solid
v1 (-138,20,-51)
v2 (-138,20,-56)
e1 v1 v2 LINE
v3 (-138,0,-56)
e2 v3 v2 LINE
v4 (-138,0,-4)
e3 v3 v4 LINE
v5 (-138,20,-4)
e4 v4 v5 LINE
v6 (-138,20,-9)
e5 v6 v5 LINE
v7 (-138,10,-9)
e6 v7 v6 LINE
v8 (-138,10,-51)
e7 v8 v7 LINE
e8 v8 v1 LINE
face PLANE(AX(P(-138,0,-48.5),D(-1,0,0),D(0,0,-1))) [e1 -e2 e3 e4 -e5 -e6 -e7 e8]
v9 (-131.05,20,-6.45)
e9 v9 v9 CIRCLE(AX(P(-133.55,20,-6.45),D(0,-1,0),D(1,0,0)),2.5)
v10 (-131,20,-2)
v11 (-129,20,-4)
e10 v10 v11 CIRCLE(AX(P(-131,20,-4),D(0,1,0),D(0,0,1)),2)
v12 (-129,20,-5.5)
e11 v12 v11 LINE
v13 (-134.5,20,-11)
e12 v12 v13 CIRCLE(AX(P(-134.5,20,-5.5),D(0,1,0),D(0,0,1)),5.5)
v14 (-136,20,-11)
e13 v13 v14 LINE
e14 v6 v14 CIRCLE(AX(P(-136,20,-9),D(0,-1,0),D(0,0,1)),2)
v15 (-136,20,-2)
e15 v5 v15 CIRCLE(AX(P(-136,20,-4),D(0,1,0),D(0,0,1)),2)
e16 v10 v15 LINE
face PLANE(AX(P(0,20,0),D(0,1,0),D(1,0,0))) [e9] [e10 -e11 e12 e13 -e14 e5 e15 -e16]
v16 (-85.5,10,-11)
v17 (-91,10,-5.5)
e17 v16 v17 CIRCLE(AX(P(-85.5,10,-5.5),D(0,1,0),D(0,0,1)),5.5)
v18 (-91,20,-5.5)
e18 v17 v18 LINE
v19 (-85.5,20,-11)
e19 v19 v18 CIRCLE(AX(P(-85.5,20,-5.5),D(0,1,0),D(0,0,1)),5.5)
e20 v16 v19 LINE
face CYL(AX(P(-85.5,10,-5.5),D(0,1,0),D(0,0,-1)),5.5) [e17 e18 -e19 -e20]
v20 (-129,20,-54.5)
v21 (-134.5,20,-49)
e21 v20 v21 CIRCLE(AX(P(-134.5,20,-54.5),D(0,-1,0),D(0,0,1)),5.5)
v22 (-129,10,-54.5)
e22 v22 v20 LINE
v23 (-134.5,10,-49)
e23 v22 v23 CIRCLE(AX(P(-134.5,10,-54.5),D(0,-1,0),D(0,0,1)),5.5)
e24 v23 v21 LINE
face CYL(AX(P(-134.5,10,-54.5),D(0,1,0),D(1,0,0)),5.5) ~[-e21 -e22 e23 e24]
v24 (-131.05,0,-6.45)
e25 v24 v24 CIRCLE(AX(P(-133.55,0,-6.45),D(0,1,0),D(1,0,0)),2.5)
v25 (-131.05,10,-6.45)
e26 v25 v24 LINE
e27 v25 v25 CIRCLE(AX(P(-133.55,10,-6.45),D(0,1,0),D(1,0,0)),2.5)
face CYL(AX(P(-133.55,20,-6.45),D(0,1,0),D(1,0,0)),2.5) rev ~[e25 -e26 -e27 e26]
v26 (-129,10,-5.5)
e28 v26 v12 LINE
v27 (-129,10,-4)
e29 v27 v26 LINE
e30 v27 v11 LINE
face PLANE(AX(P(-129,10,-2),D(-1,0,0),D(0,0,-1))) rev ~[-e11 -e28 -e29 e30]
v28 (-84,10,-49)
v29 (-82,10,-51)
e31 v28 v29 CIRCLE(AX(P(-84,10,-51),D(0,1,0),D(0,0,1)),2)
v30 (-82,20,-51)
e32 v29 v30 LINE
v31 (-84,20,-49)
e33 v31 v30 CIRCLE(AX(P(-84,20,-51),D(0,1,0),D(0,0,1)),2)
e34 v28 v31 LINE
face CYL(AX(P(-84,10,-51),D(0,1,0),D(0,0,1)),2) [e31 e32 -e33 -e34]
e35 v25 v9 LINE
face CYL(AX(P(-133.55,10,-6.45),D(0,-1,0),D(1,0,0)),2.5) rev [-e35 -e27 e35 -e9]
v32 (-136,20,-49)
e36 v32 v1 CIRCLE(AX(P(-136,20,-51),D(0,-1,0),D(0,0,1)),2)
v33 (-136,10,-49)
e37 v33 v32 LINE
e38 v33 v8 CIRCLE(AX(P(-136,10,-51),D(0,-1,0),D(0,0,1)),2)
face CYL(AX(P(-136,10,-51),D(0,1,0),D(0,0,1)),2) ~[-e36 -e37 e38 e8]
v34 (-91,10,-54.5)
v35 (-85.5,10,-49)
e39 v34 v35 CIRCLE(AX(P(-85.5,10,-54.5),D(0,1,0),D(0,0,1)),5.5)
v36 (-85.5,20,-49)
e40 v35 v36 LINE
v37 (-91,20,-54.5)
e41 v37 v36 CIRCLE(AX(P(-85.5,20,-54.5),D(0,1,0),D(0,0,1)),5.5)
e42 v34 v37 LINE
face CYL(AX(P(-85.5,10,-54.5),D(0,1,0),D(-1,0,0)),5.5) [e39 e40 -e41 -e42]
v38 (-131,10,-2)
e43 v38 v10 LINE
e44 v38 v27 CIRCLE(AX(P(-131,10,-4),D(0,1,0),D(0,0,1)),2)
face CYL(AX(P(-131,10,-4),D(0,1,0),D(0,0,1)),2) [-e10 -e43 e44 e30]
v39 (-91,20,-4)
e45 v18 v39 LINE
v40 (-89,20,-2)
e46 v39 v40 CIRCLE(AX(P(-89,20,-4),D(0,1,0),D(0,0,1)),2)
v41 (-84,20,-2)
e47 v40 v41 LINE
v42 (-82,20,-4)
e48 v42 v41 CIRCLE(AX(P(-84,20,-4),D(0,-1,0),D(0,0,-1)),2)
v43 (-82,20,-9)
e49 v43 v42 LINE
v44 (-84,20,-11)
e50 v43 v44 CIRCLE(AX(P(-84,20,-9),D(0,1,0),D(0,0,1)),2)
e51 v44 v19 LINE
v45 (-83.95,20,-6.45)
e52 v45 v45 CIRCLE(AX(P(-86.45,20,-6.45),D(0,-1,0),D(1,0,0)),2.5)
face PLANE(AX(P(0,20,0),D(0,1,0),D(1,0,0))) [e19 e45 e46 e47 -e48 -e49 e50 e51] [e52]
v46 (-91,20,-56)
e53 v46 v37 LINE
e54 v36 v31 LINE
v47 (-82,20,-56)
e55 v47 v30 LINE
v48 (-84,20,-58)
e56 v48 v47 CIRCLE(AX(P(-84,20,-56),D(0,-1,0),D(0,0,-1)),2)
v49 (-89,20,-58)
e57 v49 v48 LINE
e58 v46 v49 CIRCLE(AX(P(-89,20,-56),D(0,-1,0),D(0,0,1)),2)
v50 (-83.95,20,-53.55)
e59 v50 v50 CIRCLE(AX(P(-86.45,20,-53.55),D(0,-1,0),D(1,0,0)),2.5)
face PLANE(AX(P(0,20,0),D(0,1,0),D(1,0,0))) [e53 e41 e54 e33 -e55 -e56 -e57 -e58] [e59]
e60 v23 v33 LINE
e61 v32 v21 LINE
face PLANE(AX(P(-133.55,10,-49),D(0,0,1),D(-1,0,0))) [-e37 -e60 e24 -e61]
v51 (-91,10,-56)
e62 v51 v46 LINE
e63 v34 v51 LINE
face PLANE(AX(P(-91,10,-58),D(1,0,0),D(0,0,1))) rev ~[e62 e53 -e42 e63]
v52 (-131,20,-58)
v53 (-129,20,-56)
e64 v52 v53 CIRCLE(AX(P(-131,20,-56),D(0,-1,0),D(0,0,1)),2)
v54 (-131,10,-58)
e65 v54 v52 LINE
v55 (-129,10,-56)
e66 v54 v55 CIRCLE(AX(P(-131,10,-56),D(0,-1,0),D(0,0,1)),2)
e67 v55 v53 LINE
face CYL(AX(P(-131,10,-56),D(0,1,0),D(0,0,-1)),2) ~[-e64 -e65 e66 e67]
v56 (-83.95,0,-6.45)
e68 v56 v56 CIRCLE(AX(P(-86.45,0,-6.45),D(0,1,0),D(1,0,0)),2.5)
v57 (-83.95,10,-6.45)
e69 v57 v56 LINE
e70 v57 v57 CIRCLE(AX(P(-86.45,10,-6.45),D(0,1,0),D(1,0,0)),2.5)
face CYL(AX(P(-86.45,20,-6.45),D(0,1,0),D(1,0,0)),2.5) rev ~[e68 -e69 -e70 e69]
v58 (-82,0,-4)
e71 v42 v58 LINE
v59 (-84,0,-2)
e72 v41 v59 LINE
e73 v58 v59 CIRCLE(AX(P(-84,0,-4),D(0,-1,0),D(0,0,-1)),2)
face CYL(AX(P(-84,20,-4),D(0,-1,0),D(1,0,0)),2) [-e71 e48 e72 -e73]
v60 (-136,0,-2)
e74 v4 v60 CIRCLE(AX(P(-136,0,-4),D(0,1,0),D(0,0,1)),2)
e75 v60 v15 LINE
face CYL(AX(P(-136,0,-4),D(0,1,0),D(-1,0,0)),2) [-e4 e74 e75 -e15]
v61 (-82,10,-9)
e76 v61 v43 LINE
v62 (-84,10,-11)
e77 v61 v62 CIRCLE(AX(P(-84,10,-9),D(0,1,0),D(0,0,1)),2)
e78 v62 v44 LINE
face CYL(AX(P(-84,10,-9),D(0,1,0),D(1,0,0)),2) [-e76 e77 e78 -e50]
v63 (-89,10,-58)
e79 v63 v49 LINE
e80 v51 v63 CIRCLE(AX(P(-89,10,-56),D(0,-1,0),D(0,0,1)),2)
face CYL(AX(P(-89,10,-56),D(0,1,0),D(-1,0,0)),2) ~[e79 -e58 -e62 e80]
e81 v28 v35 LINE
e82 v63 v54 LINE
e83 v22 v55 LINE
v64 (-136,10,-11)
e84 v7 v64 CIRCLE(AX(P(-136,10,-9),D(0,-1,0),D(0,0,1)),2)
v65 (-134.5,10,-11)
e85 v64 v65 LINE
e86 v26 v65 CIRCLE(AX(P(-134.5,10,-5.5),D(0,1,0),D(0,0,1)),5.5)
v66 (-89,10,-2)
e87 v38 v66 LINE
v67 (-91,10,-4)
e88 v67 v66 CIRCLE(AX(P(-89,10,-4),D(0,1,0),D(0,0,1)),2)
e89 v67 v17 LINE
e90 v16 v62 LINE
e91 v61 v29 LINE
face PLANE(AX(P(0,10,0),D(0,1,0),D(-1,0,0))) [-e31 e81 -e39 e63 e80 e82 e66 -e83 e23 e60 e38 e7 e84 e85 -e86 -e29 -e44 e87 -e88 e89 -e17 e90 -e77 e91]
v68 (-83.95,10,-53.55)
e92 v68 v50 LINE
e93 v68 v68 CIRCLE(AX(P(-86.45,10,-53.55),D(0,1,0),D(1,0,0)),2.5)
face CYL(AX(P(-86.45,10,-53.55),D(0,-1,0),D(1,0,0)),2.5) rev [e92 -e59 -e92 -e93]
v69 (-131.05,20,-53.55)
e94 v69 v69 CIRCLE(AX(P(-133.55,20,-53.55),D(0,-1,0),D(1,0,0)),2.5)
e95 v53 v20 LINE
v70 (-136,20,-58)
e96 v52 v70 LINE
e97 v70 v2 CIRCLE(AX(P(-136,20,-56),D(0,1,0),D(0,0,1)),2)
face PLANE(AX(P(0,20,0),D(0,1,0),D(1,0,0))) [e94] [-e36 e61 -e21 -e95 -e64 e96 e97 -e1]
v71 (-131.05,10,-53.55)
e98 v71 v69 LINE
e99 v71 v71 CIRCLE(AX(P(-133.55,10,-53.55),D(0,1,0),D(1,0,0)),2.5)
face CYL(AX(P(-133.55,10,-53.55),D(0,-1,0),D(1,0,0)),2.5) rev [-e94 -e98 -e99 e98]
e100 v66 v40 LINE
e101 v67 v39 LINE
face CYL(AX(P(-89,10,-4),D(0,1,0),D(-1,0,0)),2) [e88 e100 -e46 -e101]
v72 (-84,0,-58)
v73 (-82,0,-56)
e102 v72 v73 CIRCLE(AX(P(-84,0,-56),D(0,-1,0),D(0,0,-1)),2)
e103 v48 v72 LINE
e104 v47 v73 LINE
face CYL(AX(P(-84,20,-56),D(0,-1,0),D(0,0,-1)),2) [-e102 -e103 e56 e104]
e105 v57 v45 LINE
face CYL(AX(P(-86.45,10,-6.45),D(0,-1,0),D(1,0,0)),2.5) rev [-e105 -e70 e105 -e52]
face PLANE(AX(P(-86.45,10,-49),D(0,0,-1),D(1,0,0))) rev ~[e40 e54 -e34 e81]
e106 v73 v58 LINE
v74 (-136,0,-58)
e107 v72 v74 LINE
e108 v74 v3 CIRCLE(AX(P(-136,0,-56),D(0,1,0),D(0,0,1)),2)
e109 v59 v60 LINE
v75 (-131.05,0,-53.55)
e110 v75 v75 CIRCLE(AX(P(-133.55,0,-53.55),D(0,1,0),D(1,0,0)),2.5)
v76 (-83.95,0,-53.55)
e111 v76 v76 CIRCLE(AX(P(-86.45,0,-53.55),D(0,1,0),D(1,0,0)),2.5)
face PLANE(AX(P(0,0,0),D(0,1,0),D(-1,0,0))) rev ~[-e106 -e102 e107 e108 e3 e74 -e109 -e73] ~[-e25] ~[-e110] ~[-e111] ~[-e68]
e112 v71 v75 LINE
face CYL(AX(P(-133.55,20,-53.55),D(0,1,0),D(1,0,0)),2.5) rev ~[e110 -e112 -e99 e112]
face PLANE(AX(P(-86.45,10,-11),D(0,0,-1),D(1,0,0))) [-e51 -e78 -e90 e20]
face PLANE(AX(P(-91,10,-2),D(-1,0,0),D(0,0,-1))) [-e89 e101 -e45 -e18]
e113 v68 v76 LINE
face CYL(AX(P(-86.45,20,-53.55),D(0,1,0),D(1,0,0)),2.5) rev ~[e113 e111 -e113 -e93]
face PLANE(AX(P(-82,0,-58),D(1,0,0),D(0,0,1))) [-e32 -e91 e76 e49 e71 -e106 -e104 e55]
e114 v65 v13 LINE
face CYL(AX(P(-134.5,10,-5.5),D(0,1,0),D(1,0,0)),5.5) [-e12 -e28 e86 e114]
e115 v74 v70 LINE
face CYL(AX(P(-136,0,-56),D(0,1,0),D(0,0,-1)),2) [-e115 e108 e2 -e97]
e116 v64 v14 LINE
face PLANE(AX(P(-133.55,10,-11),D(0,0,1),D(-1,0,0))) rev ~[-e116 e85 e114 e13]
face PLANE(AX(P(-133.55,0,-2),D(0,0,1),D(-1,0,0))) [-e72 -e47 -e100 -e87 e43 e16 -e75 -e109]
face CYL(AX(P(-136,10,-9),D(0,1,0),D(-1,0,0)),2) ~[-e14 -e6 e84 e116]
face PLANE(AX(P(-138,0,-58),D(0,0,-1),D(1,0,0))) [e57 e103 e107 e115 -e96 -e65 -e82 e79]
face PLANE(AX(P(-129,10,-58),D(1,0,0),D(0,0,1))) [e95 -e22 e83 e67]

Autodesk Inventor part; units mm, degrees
ref_plane "YZ Plane" through (0, 0, 0) normal (1, 0, 0) x (0, 1, 0)
ref_plane "XZ Plane" through (0, 0, 0) normal (0, 1, 0) x (-1, 0, 0)
ref_plane "XY Plane" through (0, 0, 0) normal (0, 0, 1) x (1, 0, 0)
sketch "Sketch1" plane through (0, 0, 0) normal (0, 1, 0) x (-1, 0, 0)
  line L0 (140, 0) -> (74, 0)
  line L1 (74, 0) -> (76, 0)
  line L2 (140, 0) -> (140, -60)
  line L3 (140, -60) -> (140, 0)
  line L4 (138, -58) -> (82, -2)
  line L5 (82, -58) -> (138, -2)
  circle A0 centre (110, -30) radius 19.4
  circle A1 centre (104, -30) radius 19.4
  line L6 (110, -30) -> (110, -49.4)
  line L7 (86.45, -6.45) -> (86.45, -53.55)
  line L8 (82, -58) -> (82, -2)
  line L9 (76, -58) -> (76, -2)
  line L10 (74, 0) -> (74, -60)
  line L11 (74, 0) -> (74, -60)
  circle A2 centre (86.45, -6.45) radius 2.5
  line L12 (76, -2) -> (138, -2)
  line L13 (80.45, -8.95) -> (133.55, -8.95)
  line L14 (80.45, -3.95) -> (133.55, -3.95)
  line L15 (133.55, -6.45) -> (86.45, -6.45)
  line L16 (82, -2) -> (138, -2)
  line L17 (104, -10.6) -> (110, -10.6)
  line L18 (138, -2) -> (138, -58)
  line L19 (138, -2) -> (138, -58)
  line L20 (133.55, -53.55) -> (133.55, -6.45)
  line L21 (140, -60) -> (138, -60)
  line L22 (138, -60) -> (138, -58)
  line L23 (138, -58) -> (140, -58)
  line L24 (140, -58) -> (140, -60)
  line L25 (104, -49.4) -> (110, -49.4)
  circle A3 centre (86.45, -53.55) radius 2.5
  line L26 (133.55, -51.05) -> (80.45, -51.05)
  line L27 (86.45, -53.55) -> (133.55, -53.55)
  line L28 (80.45, -56.05) -> (133.55, -56.05)
  line L29 (138, -58) -> (82, -58)
  line L30 (138, -58) -> (76, -58)
  line L31 (74, -60) -> (140, -60)
  line L32 (140, -60) -> (32, -60)
  circle A4 centre (127.55, -53.55) radius 2.5
  line L33 (104, -30) -> (104, -49.4)
  circle A5 centre (80.45, -6.45) radius 2.5
  line L34 (86.45, -53.55) -> (82, -53.55)
  line L35 (82, -58) -> (86.45, -58)
  line L36 (86.45, -58) -> (86.45, -53.55)
  line L37 (82, -53.55) -> (82, -58)
  circle A6 centre (80.45, -53.55) radius 2.5
  circle A7 centre (133.55, -53.55) radius 2.5
  line L38 (76, 0) -> (76, -2)
  line L39 (76, -2) -> (74, -2)
  line L40 (74, -2) -> (74, 0)
  line L41 (138, -2) -> (133.55, -2)
  line L42 (133.55, -2) -> (133.55, -6.45)
  line L43 (133.55, -6.45) -> (138, -6.45)
  line L44 (138, -6.45) -> (138, -2)
  circle A8 centre (127.55, -6.45) radius 2.5
  circle A9 centre (133.55, -6.45) radius 2.5
  line L45 (0, -25) -> (0, 0)
  line L46 (32, -60) -> (0, -25)
  line L47 (0, -25) -> (0, 0)
  line L48 (0, 0) -> (74, 0)
  line L49 (0, 0) -> (74, 0)
  line L50 (140, -60) -> (140, 0)
  line L51 (140, -60) -> (0, -60)
  line L52 (0, -60) -> (0, 0)
  line L53 (0, 0) -> (140, 0)
  line L54 (140, 0) -> (140, -60)
  line L55 (0, -60) -> (40, -60)
  line L56 (40, -60) -> (40, -100)
  line L57 (40, -100) -> (0, -100)
  line L58 (0, -100) -> (0, -60)
  line L59 (138, -58) -> (128.5, -58)
  line L60 (128.5, -58) -> (128.5, -48.5)
  line L61 (128.5, -48.5) -> (138, -48.5)
  line L62 (138, -48.5) -> (138, -58)
  line L63 (82, -58) -> (91.5, -58)
  line L64 (91.5, -58) -> (91.5, -48.5)
  line L65 (91.5, -48.5) -> (82, -48.5)
  line L66 (82, -48.5) -> (82, -58)
  line L67 (138, -2) -> (128.5, -2)
  line L68 (128.5, -2) -> (128.5, -11.5)
  line L69 (128.5, -11.5) -> (138, -11.5)
  line L70 (138, -11.5) -> (138, -2)
  line L71 (82, -2) -> (91.5, -2)
  line L72 (91.5, -2) -> (91.5, -11.5)
  line L73 (91.5, -11.5) -> (82, -11.5)
  line L74 (82, -11.5) -> (82, -2)
  point P0 (127.55, 3.95)
  point P1 (127.55, 8.95)
  point P2 (86.45, 3.95)
  point P3 (86.45, 8.95)
  point P4 (127.55, 56.05)
  point P5 (127.55, 51.05)
  point P6 (86.45, 56.05)
  point P7 (86.45, 51.05)
  point P8 (123.7179, -16.2821)
  point P9 (131.05, -8.95)
  point P10 (88.95, -8.95)
  point P11 (88.2178, -8.2178)
  point P12 (86.45, -8.95)
  point P13 (82, -3.95)
  point P14 (135.3178, -55.3178)
  point P15 (127.55, -56.05)
  point P16 (127.55, -51.05)
  point P17 (131.05, -51.05)
  point P18 (123.7179, -43.7179)
  point P19 (86.45, -51.05)
  point P20 (86.45, -56.05)
  point P21 (86.45, -3.95)
  point P22 (127.55, -8.95)
  point P23 (127.55, -3.95)
  point P24 (86.45, -8.95)
  point P25 (86.45, -3.95)
  point P26 (127.55, -56.05)
  point P27 (127.55, -51.05)
  point P28 (127.55, -8.95)
  point P29 (127.55, -3.95)
  point P30 (86.45, -51.05)
  point P31 (86.45, -56.05)
  dimension "d0" = 40
  dimension "d1" = 40
  dimension "d2" = 9.5
  dimension "d3" = 9.5
  dimension "d4" = 9.5
  dimension "d5" = 9.5
  dimension "d6" = 9.5
  dimension "d7" = 9.5
  dimension "d8" = 9.5
  dimension "d9" = 9.5
extrude "Extrusion1" add sketch "Sketch1" along normal blind 10 contours L29 L60 L28 A7 L4 | L4 A7 L20 L61 L18 | L12 L72 L14 L4 | L4 L14 L8 | A7 L27 L4 | L4 L20 A7 | L61 L20 L69 L18 | L29 L64 L28 L60 | L8 L28 L5 | L5 L28 L36 L29 | L14 A2 L4 | L4 A2 L13 L8 A5 L14 | L12 L68 L14 L72 | L27 A7 L4 | L4 A7 L20 | L28 L60 A4 L27 A7 | L69 L20 A9 L43 L18 | L61 L4 A0 L5 L69 L20 | L20 L26 L4 L61 | L29 L36 L28 L64 | L28 A4 L60 | L28 L8 A6 L34 A3 L5 | L5 A3 L28 | A2 L15 L4 | L4 L7 A2 | L14 L72 L15 A2 | A5 L8 | L12 L42 L14 L68 | L14 A8 L15 L72 | A7 L27 A4 L60 L26 L4 | L4 L26 A7 | L43 A9 L5 L18 | L69 L5 L13 L20 | L60 L26 L64 L5 A1 L25 A0 L4 | L4 L26 L60 | L64 L27 A4 L28 | L28 A3 L27 L64 | A4 L27 L60 | L60 L27 A4 | A3 L34 L5 | L5 L36 A3 | L36 L27 A3 | L8 L34 A6 | L15 A2 L4 | L4 A2 L7 | L13 L4 L73 L7 | L7 L73 L8 L13 | A2 L4 L13 | L15 L72 L13 L4 A2 | L12 L5 A9 L42 | L68 A8 L14 | L14 A9 L15 A8 L68 | A8 L68 L15 | L15 A8 L13 L72 | L27 L60 A4 | A9 L20 L43 | L43 L5 A9 | A9 L5 L20 | L13 L5 A9 | L68 L13 L5 | L5 A0 L17 A1 L4 L72 L13 L68 | A0 L6 A1 L4 | L4 A1 L5 A0 | L60 A4 L26 | L64 L26 A4 L27 | L27 A3 L5 L26 L64 | A4 L60 L27 | L7 A3 L5 | L34 A3 L7 | L5 A3 L27 | L34 A6 L8 L26 A3 | L8 A6 L34 | L73 L4 A1 L7 | L7 A1 L65 L8 L73 | L13 L72 L4 | A9 L5 L42 | L42 L15 A9 | A8 L15 L68 | L15 L68 A8 | L5 A9 L15 | L13 L68 A8 L15 A9 L5 | L5 A1 A0 | L13 A8 L68 | A1 L6 L4 | L4 L5 A1 | L25 A1 A0 | A0 A1 L6 | L26 L5 L64 | A3 L26 L5 | L26 L8 L65 L7 | L7 L65 L5 L26 | L7 A1 | A1 L4 A0 L5 L7 | A8 L68 L15 | L5 L4 A0 A1 | A0 A1 L17 | L5 A0 L4 | L6 A1 A0 L33 L5 | A1 L33 A0 | A1 L5 A0 L33 | L65 L7 A1 L5 | A1 A0 L4 | L33 A0 L5 picked at (82.1331, -6.9717)
sketch "Sketch2" plane through (0, 10, 0) normal (0, 1, 0) x (1, 0, 0)
  line L0 (-82, 58) -> (-138, 58) projected
  line L1 (-138, 2) -> (-82, 2) projected
  line L2 (-138, 58) -> (-82, 58)
  line L3 (-82, 58) -> (-82, 2)
  line L4 (-82, 2) -> (-138, 2)
  line L5 (-138, 2) -> (-138, 58)
  line L6 (-138, 58) -> (-138, 2) projected
  line L7 (-138, 58) -> (-129, 58)
  line L8 (-129, 58) -> (-129, 49)
  line L9 (-129, 49) -> (-138, 49)
  line L10 (-138, 49) -> (-138, 58)
  line L11 (-82, 58) -> (-91, 58)
  line L12 (-91, 58) -> (-91, 49)
  line L13 (-91, 49) -> (-82, 49)
  line L14 (-82, 49) -> (-82, 58)
  line L15 (-138, 2) -> (-129, 2)
  line L16 (-129, 2) -> (-129, 11)
  line L17 (-129, 11) -> (-138, 11)
  line L18 (-138, 11) -> (-138, 2)
  line L19 (-82, 2) -> (-91, 2)
  line L20 (-91, 2) -> (-91, 11)
  line L21 (-91, 11) -> (-82, 11)
  line L22 (-82, 11) -> (-82, 2)
  line L23 (-140, 0) -> (-74, 0)
  line L24 (-74, 0) -> (-76, 0)
  line L25 (-140, 0) -> (-140, 60)
  line L26 (-140, 60) -> (-140, 0)
  line L27 (-138, 58) -> (-82, 2)
  line L28 (-82, 58) -> (-138, 2)
  circle A0 centre (-110, 30) radius 19.4
  circle A1 centre (-104, 30) radius 19.4
  line L29 (-110, 30) -> (-110, 49.4)
  line L30 (-86.45, 6.45) -> (-86.45, 53.55)
  line L31 (-82, 58) -> (-82, 2)
  line L32 (-76, 58) -> (-76, 2)
  line L33 (-74, 0) -> (-74, 60)
  line L34 (-74, 0) -> (-74, 60)
  circle A2 centre (-86.45, 6.45) radius 2.5
  line L35 (-76, 2) -> (-138, 2)
  line L36 (-80.45, 8.95) -> (-133.55, 8.95)
  line L37 (-80.45, 3.95) -> (-133.55, 3.95)
  line L38 (-133.55, 6.45) -> (-86.45, 6.45)
  line L39 (-82, 2) -> (-138, 2)
  line L40 (-104, 10.6) -> (-110, 10.6)
  line L41 (-138, 2) -> (-138, 58)
  line L42 (-138, 2) -> (-138, 58)
  line L43 (-133.55, 53.55) -> (-133.55, 6.45)
  line L44 (-140, 60) -> (-138, 60)
  line L45 (-138, 60) -> (-138, 58)
  line L46 (-138, 58) -> (-140, 58)
  line L47 (-140, 58) -> (-140, 60)
  line L48 (-104, 49.4) -> (-110, 49.4)
  circle A3 centre (-86.45, 53.55) radius 2.5
  line L49 (-133.55, 51.05) -> (-80.45, 51.05)
  line L50 (-86.45, 53.55) -> (-133.55, 53.55)
  line L51 (-80.45, 56.05) -> (-133.55, 56.05)
  line L52 (-138, 58) -> (-82, 58)
  line L53 (-138, 58) -> (-76, 58)
  line L54 (-74, 60) -> (-140, 60)
  line L55 (-140, 60) -> (-32, 60)
  circle A4 centre (-127.55, 53.55) radius 2.5
  line L56 (-104, 30) -> (-104, 49.4)
  circle A5 centre (-80.45, 6.45) radius 2.5
  line L57 (-86.45, 53.55) -> (-82, 53.55)
  line L58 (-82, 58) -> (-86.45, 58)
  line L59 (-86.45, 58) -> (-86.45, 53.55)
  line L60 (-82, 53.55) -> (-82, 58)
  circle A6 centre (-80.45, 53.55) radius 2.5
  circle A7 centre (-133.55, 53.55) radius 2.5
  line L61 (-76, 0) -> (-76, 2)
  line L62 (-76, 2) -> (-74, 2)
  line L63 (-74, 2) -> (-74, 0)
  line L64 (-138, 2) -> (-133.55, 2)
  line L65 (-133.55, 2) -> (-133.55, 6.45)
  line L66 (-133.55, 6.45) -> (-138, 6.45)
  line L67 (-138, 6.45) -> (-138, 2)
  circle A8 centre (-127.55, 6.45) radius 2.5
  circle A9 centre (-133.55, 6.45) radius 2.5
  line L68 (0, 25) -> (0, 0)
  line L69 (-32, 60) -> (0, 25)
  line L70 (0, 25) -> (0, 0)
  line L71 (0, 0) -> (-74, 0)
  line L72 (0, 0) -> (-74, 0)
  line L73 (-140, 60) -> (-140, 0)
  line L74 (-140, 60) -> (0, 60)
  line L75 (0, 60) -> (0, 0)
  line L76 (0, 0) -> (-140, 0)
  line L77 (-140, 0) -> (-140, 60)
  line L78 (0, 60) -> (-40, 60)
  line L79 (-40, 60) -> (-40, 100)
  line L80 (-40, 100) -> (0, 100)
  line L81 (0, 100) -> (0, 60)
  line L82 (-138, 58) -> (-128.5, 58)
  line L83 (-128.5, 58) -> (-128.5, 48.5)
  line L84 (-128.5, 48.5) -> (-138, 48.5)
  line L85 (-138, 48.5) -> (-138, 58)
  line L86 (-82, 58) -> (-91.5, 58)
  line L87 (-91.5, 58) -> (-91.5, 48.5)
  line L88 (-91.5, 48.5) -> (-82, 48.5)
  line L89 (-82, 48.5) -> (-82, 58)
  line L90 (-138, 2) -> (-128.5, 2)
  line L91 (-128.5, 2) -> (-128.5, 11.5)
  line L92 (-128.5, 11.5) -> (-138, 11.5)
  line L93 (-138, 11.5) -> (-138, 2)
  line L94 (-82, 2) -> (-91.5, 2)
  line L95 (-91.5, 2) -> (-91.5, 11.5)
  line L96 (-91.5, 11.5) -> (-82, 11.5)
  line L97 (-82, 11.5) -> (-82, 2)
  point P0 (127.55, 3.95)
  point P1 (127.55, 8.95)
  point P2 (86.45, 3.95)
  point P3 (86.45, 8.95)
  point P4 (127.55, 56.05)
  point P5 (127.55, 51.05)
  point P6 (86.45, 56.05)
  point P7 (86.45, 51.05)
  point P8 (123.7179, -16.2821)
  point P9 (131.05, -8.95)
  point P10 (88.95, -8.95)
  point P11 (88.2178, -8.2178)
  point P12 (86.45, -8.95)
  point P13 (82, -3.95)
  point P14 (82, -2)
  point P15 (74, -2)
  point P16 (138, -60)
  point P17 (135.3178, -55.3178)
  point P18 (127.55, -56.05)
  point P19 (127.55, -51.05)
  point P20 (131.05, -51.05)
  point P21 (123.7179, -43.7179)
  point P22 (86.45, -51.05)
  point P23 (86.45, -56.05)
  point P24 (86.45, -3.95)
  point P25 (127.55, -8.95)
  point P26 (127.55, -3.95)
  point P27 (0, -25)
  point P28 (40, -60)
  point P29 (86.45, -8.95)
  point P30 (86.45, -3.95)
  point P31 (127.55, -56.05)
  point P32 (127.55, -51.05)
  point P33 (127.55, -8.95)
  point P34 (127.55, -3.95)
  point P35 (0, -25)
  point P36 (40, -60)
  point P37 (138, -60)
  point P38 (86.45, -51.05)
  point P39 (86.45, -56.05)
  point P40 (82, -2)
  point P41 (-91, 2)
  point P42 (-82, 11)
  point P43 (-138, 11)
  point P44 (-129, 2)
  dimension "d12" = 9
  dimension "d13" = 9
  dimension "d14" = 9
  dimension "d15" = 9
  dimension "d16" = 9
  dimension "d17" = 9
  dimension "d18" = 9
  dimension "d19" = 9
  dimension "d20" = 40
  dimension "d21" = 40
  dimension "d22" = 9.5
  dimension "d23" = 9.5
  dimension "d24" = 9.5
  dimension "d25" = 9.5
  dimension "d26" = 9.5
  dimension "d27" = 9.5
  dimension "d28" = 9.5
  dimension "d29" = 9.5
extrude "Extrusion2" add sketch "Sketch2" along normal blind 10 contours L28 L51 L59 L0 | L3 L51 L28 | L59 L51 L12 L0 | L3 A6 L57 A3 L28 L51 | L28 A3 L51 | A3 L50 L12 L51 | L3 L57 A6 | A3 L28 L49 L12 L50 | L3 A6 L57 | A6 L3 L49 A3 L57 | L27 L37 L3 | L1 L20 L37 L27 | A3 L49 L28 | L49 L3 L13 L30 | L30 L13 L28 L49 | L37 L27 A2 L36 L3 A5 | L37 A2 L27 | L8 L51 A7 L27 L0 | L49 L28 L12 | L20 L38 A2 L37 | A5 L3 | L27 A7 L43 L9 L5 | L8 A4 L50 A7 L51 | L20 L36 L27 A2 L38 | L8 L50 A4 | L1 L65 L37 L16 | L20 L27 L36 | L36 L30 L21 L3 | L27 L36 A2 | L36 L27 L21 L30 | L43 L49 L27 L9 | A7 L27 L49 | L8 A4 L50 | A4 L8 L49 L27 A7 L50 | L1 L28 A9 L65 | L37 A9 L38 A8 L16 | L27 L49 L8 | L5 L66 A9 L28 | A8 L38 L16 | L17 L43 A9 L66 L5 | A9 L28 L36 L16 A8 L38 | L38 A8 L16 | L17 L28 L36 L43 | A9 L36 L28 | L36 L28 L16 picked at (-82.2333, 6.0868)
fillet "Fillet1" radius 5.5 4 edges at (-91, 15, -49) (-129, 15, -49) (-129, 15, -11) (-91, 15, -11)
fillet "Fillet2" radius 2 12 edges at (-82, 10, -2) (-138, 10, -2) (-138, 10, -58) (-82, 10, -58) (-91, 15, -58) (-82, 15, -49) (-129, 15, -58) (-138, 15, -49) (-138, 15, -11) (-129, 15, -2) (-91, 15, -2) (-82, 15, -11)
sketch "Sketch3" plane through (0, 20, 0) normal (0, 1, 0) x (1, 0, 0)
  circle A0 centre (-133.55, 53.55) radius 2.5 projected
  circle A1 centre (-133.55, 53.55) radius 2.5
  circle A2 centre (-86.45, 53.55) radius 2.5 projected
  circle A3 centre (-86.45, 53.55) radius 2.5
  circle A4 centre (-133.55, 6.45) radius 2.5 projected
  circle A5 centre (-133.55, 6.45) radius 2.5
  circle A6 centre (-86.45, 6.45) radius 2.5 projected
  circle A7 centre (-86.45, 6.45) radius 2.5
  point P0 (0, 0)
extrude "Extrusion3" cut sketch "Sketch3" against normal through all
properties part number "duzy_silnik_tyl"
